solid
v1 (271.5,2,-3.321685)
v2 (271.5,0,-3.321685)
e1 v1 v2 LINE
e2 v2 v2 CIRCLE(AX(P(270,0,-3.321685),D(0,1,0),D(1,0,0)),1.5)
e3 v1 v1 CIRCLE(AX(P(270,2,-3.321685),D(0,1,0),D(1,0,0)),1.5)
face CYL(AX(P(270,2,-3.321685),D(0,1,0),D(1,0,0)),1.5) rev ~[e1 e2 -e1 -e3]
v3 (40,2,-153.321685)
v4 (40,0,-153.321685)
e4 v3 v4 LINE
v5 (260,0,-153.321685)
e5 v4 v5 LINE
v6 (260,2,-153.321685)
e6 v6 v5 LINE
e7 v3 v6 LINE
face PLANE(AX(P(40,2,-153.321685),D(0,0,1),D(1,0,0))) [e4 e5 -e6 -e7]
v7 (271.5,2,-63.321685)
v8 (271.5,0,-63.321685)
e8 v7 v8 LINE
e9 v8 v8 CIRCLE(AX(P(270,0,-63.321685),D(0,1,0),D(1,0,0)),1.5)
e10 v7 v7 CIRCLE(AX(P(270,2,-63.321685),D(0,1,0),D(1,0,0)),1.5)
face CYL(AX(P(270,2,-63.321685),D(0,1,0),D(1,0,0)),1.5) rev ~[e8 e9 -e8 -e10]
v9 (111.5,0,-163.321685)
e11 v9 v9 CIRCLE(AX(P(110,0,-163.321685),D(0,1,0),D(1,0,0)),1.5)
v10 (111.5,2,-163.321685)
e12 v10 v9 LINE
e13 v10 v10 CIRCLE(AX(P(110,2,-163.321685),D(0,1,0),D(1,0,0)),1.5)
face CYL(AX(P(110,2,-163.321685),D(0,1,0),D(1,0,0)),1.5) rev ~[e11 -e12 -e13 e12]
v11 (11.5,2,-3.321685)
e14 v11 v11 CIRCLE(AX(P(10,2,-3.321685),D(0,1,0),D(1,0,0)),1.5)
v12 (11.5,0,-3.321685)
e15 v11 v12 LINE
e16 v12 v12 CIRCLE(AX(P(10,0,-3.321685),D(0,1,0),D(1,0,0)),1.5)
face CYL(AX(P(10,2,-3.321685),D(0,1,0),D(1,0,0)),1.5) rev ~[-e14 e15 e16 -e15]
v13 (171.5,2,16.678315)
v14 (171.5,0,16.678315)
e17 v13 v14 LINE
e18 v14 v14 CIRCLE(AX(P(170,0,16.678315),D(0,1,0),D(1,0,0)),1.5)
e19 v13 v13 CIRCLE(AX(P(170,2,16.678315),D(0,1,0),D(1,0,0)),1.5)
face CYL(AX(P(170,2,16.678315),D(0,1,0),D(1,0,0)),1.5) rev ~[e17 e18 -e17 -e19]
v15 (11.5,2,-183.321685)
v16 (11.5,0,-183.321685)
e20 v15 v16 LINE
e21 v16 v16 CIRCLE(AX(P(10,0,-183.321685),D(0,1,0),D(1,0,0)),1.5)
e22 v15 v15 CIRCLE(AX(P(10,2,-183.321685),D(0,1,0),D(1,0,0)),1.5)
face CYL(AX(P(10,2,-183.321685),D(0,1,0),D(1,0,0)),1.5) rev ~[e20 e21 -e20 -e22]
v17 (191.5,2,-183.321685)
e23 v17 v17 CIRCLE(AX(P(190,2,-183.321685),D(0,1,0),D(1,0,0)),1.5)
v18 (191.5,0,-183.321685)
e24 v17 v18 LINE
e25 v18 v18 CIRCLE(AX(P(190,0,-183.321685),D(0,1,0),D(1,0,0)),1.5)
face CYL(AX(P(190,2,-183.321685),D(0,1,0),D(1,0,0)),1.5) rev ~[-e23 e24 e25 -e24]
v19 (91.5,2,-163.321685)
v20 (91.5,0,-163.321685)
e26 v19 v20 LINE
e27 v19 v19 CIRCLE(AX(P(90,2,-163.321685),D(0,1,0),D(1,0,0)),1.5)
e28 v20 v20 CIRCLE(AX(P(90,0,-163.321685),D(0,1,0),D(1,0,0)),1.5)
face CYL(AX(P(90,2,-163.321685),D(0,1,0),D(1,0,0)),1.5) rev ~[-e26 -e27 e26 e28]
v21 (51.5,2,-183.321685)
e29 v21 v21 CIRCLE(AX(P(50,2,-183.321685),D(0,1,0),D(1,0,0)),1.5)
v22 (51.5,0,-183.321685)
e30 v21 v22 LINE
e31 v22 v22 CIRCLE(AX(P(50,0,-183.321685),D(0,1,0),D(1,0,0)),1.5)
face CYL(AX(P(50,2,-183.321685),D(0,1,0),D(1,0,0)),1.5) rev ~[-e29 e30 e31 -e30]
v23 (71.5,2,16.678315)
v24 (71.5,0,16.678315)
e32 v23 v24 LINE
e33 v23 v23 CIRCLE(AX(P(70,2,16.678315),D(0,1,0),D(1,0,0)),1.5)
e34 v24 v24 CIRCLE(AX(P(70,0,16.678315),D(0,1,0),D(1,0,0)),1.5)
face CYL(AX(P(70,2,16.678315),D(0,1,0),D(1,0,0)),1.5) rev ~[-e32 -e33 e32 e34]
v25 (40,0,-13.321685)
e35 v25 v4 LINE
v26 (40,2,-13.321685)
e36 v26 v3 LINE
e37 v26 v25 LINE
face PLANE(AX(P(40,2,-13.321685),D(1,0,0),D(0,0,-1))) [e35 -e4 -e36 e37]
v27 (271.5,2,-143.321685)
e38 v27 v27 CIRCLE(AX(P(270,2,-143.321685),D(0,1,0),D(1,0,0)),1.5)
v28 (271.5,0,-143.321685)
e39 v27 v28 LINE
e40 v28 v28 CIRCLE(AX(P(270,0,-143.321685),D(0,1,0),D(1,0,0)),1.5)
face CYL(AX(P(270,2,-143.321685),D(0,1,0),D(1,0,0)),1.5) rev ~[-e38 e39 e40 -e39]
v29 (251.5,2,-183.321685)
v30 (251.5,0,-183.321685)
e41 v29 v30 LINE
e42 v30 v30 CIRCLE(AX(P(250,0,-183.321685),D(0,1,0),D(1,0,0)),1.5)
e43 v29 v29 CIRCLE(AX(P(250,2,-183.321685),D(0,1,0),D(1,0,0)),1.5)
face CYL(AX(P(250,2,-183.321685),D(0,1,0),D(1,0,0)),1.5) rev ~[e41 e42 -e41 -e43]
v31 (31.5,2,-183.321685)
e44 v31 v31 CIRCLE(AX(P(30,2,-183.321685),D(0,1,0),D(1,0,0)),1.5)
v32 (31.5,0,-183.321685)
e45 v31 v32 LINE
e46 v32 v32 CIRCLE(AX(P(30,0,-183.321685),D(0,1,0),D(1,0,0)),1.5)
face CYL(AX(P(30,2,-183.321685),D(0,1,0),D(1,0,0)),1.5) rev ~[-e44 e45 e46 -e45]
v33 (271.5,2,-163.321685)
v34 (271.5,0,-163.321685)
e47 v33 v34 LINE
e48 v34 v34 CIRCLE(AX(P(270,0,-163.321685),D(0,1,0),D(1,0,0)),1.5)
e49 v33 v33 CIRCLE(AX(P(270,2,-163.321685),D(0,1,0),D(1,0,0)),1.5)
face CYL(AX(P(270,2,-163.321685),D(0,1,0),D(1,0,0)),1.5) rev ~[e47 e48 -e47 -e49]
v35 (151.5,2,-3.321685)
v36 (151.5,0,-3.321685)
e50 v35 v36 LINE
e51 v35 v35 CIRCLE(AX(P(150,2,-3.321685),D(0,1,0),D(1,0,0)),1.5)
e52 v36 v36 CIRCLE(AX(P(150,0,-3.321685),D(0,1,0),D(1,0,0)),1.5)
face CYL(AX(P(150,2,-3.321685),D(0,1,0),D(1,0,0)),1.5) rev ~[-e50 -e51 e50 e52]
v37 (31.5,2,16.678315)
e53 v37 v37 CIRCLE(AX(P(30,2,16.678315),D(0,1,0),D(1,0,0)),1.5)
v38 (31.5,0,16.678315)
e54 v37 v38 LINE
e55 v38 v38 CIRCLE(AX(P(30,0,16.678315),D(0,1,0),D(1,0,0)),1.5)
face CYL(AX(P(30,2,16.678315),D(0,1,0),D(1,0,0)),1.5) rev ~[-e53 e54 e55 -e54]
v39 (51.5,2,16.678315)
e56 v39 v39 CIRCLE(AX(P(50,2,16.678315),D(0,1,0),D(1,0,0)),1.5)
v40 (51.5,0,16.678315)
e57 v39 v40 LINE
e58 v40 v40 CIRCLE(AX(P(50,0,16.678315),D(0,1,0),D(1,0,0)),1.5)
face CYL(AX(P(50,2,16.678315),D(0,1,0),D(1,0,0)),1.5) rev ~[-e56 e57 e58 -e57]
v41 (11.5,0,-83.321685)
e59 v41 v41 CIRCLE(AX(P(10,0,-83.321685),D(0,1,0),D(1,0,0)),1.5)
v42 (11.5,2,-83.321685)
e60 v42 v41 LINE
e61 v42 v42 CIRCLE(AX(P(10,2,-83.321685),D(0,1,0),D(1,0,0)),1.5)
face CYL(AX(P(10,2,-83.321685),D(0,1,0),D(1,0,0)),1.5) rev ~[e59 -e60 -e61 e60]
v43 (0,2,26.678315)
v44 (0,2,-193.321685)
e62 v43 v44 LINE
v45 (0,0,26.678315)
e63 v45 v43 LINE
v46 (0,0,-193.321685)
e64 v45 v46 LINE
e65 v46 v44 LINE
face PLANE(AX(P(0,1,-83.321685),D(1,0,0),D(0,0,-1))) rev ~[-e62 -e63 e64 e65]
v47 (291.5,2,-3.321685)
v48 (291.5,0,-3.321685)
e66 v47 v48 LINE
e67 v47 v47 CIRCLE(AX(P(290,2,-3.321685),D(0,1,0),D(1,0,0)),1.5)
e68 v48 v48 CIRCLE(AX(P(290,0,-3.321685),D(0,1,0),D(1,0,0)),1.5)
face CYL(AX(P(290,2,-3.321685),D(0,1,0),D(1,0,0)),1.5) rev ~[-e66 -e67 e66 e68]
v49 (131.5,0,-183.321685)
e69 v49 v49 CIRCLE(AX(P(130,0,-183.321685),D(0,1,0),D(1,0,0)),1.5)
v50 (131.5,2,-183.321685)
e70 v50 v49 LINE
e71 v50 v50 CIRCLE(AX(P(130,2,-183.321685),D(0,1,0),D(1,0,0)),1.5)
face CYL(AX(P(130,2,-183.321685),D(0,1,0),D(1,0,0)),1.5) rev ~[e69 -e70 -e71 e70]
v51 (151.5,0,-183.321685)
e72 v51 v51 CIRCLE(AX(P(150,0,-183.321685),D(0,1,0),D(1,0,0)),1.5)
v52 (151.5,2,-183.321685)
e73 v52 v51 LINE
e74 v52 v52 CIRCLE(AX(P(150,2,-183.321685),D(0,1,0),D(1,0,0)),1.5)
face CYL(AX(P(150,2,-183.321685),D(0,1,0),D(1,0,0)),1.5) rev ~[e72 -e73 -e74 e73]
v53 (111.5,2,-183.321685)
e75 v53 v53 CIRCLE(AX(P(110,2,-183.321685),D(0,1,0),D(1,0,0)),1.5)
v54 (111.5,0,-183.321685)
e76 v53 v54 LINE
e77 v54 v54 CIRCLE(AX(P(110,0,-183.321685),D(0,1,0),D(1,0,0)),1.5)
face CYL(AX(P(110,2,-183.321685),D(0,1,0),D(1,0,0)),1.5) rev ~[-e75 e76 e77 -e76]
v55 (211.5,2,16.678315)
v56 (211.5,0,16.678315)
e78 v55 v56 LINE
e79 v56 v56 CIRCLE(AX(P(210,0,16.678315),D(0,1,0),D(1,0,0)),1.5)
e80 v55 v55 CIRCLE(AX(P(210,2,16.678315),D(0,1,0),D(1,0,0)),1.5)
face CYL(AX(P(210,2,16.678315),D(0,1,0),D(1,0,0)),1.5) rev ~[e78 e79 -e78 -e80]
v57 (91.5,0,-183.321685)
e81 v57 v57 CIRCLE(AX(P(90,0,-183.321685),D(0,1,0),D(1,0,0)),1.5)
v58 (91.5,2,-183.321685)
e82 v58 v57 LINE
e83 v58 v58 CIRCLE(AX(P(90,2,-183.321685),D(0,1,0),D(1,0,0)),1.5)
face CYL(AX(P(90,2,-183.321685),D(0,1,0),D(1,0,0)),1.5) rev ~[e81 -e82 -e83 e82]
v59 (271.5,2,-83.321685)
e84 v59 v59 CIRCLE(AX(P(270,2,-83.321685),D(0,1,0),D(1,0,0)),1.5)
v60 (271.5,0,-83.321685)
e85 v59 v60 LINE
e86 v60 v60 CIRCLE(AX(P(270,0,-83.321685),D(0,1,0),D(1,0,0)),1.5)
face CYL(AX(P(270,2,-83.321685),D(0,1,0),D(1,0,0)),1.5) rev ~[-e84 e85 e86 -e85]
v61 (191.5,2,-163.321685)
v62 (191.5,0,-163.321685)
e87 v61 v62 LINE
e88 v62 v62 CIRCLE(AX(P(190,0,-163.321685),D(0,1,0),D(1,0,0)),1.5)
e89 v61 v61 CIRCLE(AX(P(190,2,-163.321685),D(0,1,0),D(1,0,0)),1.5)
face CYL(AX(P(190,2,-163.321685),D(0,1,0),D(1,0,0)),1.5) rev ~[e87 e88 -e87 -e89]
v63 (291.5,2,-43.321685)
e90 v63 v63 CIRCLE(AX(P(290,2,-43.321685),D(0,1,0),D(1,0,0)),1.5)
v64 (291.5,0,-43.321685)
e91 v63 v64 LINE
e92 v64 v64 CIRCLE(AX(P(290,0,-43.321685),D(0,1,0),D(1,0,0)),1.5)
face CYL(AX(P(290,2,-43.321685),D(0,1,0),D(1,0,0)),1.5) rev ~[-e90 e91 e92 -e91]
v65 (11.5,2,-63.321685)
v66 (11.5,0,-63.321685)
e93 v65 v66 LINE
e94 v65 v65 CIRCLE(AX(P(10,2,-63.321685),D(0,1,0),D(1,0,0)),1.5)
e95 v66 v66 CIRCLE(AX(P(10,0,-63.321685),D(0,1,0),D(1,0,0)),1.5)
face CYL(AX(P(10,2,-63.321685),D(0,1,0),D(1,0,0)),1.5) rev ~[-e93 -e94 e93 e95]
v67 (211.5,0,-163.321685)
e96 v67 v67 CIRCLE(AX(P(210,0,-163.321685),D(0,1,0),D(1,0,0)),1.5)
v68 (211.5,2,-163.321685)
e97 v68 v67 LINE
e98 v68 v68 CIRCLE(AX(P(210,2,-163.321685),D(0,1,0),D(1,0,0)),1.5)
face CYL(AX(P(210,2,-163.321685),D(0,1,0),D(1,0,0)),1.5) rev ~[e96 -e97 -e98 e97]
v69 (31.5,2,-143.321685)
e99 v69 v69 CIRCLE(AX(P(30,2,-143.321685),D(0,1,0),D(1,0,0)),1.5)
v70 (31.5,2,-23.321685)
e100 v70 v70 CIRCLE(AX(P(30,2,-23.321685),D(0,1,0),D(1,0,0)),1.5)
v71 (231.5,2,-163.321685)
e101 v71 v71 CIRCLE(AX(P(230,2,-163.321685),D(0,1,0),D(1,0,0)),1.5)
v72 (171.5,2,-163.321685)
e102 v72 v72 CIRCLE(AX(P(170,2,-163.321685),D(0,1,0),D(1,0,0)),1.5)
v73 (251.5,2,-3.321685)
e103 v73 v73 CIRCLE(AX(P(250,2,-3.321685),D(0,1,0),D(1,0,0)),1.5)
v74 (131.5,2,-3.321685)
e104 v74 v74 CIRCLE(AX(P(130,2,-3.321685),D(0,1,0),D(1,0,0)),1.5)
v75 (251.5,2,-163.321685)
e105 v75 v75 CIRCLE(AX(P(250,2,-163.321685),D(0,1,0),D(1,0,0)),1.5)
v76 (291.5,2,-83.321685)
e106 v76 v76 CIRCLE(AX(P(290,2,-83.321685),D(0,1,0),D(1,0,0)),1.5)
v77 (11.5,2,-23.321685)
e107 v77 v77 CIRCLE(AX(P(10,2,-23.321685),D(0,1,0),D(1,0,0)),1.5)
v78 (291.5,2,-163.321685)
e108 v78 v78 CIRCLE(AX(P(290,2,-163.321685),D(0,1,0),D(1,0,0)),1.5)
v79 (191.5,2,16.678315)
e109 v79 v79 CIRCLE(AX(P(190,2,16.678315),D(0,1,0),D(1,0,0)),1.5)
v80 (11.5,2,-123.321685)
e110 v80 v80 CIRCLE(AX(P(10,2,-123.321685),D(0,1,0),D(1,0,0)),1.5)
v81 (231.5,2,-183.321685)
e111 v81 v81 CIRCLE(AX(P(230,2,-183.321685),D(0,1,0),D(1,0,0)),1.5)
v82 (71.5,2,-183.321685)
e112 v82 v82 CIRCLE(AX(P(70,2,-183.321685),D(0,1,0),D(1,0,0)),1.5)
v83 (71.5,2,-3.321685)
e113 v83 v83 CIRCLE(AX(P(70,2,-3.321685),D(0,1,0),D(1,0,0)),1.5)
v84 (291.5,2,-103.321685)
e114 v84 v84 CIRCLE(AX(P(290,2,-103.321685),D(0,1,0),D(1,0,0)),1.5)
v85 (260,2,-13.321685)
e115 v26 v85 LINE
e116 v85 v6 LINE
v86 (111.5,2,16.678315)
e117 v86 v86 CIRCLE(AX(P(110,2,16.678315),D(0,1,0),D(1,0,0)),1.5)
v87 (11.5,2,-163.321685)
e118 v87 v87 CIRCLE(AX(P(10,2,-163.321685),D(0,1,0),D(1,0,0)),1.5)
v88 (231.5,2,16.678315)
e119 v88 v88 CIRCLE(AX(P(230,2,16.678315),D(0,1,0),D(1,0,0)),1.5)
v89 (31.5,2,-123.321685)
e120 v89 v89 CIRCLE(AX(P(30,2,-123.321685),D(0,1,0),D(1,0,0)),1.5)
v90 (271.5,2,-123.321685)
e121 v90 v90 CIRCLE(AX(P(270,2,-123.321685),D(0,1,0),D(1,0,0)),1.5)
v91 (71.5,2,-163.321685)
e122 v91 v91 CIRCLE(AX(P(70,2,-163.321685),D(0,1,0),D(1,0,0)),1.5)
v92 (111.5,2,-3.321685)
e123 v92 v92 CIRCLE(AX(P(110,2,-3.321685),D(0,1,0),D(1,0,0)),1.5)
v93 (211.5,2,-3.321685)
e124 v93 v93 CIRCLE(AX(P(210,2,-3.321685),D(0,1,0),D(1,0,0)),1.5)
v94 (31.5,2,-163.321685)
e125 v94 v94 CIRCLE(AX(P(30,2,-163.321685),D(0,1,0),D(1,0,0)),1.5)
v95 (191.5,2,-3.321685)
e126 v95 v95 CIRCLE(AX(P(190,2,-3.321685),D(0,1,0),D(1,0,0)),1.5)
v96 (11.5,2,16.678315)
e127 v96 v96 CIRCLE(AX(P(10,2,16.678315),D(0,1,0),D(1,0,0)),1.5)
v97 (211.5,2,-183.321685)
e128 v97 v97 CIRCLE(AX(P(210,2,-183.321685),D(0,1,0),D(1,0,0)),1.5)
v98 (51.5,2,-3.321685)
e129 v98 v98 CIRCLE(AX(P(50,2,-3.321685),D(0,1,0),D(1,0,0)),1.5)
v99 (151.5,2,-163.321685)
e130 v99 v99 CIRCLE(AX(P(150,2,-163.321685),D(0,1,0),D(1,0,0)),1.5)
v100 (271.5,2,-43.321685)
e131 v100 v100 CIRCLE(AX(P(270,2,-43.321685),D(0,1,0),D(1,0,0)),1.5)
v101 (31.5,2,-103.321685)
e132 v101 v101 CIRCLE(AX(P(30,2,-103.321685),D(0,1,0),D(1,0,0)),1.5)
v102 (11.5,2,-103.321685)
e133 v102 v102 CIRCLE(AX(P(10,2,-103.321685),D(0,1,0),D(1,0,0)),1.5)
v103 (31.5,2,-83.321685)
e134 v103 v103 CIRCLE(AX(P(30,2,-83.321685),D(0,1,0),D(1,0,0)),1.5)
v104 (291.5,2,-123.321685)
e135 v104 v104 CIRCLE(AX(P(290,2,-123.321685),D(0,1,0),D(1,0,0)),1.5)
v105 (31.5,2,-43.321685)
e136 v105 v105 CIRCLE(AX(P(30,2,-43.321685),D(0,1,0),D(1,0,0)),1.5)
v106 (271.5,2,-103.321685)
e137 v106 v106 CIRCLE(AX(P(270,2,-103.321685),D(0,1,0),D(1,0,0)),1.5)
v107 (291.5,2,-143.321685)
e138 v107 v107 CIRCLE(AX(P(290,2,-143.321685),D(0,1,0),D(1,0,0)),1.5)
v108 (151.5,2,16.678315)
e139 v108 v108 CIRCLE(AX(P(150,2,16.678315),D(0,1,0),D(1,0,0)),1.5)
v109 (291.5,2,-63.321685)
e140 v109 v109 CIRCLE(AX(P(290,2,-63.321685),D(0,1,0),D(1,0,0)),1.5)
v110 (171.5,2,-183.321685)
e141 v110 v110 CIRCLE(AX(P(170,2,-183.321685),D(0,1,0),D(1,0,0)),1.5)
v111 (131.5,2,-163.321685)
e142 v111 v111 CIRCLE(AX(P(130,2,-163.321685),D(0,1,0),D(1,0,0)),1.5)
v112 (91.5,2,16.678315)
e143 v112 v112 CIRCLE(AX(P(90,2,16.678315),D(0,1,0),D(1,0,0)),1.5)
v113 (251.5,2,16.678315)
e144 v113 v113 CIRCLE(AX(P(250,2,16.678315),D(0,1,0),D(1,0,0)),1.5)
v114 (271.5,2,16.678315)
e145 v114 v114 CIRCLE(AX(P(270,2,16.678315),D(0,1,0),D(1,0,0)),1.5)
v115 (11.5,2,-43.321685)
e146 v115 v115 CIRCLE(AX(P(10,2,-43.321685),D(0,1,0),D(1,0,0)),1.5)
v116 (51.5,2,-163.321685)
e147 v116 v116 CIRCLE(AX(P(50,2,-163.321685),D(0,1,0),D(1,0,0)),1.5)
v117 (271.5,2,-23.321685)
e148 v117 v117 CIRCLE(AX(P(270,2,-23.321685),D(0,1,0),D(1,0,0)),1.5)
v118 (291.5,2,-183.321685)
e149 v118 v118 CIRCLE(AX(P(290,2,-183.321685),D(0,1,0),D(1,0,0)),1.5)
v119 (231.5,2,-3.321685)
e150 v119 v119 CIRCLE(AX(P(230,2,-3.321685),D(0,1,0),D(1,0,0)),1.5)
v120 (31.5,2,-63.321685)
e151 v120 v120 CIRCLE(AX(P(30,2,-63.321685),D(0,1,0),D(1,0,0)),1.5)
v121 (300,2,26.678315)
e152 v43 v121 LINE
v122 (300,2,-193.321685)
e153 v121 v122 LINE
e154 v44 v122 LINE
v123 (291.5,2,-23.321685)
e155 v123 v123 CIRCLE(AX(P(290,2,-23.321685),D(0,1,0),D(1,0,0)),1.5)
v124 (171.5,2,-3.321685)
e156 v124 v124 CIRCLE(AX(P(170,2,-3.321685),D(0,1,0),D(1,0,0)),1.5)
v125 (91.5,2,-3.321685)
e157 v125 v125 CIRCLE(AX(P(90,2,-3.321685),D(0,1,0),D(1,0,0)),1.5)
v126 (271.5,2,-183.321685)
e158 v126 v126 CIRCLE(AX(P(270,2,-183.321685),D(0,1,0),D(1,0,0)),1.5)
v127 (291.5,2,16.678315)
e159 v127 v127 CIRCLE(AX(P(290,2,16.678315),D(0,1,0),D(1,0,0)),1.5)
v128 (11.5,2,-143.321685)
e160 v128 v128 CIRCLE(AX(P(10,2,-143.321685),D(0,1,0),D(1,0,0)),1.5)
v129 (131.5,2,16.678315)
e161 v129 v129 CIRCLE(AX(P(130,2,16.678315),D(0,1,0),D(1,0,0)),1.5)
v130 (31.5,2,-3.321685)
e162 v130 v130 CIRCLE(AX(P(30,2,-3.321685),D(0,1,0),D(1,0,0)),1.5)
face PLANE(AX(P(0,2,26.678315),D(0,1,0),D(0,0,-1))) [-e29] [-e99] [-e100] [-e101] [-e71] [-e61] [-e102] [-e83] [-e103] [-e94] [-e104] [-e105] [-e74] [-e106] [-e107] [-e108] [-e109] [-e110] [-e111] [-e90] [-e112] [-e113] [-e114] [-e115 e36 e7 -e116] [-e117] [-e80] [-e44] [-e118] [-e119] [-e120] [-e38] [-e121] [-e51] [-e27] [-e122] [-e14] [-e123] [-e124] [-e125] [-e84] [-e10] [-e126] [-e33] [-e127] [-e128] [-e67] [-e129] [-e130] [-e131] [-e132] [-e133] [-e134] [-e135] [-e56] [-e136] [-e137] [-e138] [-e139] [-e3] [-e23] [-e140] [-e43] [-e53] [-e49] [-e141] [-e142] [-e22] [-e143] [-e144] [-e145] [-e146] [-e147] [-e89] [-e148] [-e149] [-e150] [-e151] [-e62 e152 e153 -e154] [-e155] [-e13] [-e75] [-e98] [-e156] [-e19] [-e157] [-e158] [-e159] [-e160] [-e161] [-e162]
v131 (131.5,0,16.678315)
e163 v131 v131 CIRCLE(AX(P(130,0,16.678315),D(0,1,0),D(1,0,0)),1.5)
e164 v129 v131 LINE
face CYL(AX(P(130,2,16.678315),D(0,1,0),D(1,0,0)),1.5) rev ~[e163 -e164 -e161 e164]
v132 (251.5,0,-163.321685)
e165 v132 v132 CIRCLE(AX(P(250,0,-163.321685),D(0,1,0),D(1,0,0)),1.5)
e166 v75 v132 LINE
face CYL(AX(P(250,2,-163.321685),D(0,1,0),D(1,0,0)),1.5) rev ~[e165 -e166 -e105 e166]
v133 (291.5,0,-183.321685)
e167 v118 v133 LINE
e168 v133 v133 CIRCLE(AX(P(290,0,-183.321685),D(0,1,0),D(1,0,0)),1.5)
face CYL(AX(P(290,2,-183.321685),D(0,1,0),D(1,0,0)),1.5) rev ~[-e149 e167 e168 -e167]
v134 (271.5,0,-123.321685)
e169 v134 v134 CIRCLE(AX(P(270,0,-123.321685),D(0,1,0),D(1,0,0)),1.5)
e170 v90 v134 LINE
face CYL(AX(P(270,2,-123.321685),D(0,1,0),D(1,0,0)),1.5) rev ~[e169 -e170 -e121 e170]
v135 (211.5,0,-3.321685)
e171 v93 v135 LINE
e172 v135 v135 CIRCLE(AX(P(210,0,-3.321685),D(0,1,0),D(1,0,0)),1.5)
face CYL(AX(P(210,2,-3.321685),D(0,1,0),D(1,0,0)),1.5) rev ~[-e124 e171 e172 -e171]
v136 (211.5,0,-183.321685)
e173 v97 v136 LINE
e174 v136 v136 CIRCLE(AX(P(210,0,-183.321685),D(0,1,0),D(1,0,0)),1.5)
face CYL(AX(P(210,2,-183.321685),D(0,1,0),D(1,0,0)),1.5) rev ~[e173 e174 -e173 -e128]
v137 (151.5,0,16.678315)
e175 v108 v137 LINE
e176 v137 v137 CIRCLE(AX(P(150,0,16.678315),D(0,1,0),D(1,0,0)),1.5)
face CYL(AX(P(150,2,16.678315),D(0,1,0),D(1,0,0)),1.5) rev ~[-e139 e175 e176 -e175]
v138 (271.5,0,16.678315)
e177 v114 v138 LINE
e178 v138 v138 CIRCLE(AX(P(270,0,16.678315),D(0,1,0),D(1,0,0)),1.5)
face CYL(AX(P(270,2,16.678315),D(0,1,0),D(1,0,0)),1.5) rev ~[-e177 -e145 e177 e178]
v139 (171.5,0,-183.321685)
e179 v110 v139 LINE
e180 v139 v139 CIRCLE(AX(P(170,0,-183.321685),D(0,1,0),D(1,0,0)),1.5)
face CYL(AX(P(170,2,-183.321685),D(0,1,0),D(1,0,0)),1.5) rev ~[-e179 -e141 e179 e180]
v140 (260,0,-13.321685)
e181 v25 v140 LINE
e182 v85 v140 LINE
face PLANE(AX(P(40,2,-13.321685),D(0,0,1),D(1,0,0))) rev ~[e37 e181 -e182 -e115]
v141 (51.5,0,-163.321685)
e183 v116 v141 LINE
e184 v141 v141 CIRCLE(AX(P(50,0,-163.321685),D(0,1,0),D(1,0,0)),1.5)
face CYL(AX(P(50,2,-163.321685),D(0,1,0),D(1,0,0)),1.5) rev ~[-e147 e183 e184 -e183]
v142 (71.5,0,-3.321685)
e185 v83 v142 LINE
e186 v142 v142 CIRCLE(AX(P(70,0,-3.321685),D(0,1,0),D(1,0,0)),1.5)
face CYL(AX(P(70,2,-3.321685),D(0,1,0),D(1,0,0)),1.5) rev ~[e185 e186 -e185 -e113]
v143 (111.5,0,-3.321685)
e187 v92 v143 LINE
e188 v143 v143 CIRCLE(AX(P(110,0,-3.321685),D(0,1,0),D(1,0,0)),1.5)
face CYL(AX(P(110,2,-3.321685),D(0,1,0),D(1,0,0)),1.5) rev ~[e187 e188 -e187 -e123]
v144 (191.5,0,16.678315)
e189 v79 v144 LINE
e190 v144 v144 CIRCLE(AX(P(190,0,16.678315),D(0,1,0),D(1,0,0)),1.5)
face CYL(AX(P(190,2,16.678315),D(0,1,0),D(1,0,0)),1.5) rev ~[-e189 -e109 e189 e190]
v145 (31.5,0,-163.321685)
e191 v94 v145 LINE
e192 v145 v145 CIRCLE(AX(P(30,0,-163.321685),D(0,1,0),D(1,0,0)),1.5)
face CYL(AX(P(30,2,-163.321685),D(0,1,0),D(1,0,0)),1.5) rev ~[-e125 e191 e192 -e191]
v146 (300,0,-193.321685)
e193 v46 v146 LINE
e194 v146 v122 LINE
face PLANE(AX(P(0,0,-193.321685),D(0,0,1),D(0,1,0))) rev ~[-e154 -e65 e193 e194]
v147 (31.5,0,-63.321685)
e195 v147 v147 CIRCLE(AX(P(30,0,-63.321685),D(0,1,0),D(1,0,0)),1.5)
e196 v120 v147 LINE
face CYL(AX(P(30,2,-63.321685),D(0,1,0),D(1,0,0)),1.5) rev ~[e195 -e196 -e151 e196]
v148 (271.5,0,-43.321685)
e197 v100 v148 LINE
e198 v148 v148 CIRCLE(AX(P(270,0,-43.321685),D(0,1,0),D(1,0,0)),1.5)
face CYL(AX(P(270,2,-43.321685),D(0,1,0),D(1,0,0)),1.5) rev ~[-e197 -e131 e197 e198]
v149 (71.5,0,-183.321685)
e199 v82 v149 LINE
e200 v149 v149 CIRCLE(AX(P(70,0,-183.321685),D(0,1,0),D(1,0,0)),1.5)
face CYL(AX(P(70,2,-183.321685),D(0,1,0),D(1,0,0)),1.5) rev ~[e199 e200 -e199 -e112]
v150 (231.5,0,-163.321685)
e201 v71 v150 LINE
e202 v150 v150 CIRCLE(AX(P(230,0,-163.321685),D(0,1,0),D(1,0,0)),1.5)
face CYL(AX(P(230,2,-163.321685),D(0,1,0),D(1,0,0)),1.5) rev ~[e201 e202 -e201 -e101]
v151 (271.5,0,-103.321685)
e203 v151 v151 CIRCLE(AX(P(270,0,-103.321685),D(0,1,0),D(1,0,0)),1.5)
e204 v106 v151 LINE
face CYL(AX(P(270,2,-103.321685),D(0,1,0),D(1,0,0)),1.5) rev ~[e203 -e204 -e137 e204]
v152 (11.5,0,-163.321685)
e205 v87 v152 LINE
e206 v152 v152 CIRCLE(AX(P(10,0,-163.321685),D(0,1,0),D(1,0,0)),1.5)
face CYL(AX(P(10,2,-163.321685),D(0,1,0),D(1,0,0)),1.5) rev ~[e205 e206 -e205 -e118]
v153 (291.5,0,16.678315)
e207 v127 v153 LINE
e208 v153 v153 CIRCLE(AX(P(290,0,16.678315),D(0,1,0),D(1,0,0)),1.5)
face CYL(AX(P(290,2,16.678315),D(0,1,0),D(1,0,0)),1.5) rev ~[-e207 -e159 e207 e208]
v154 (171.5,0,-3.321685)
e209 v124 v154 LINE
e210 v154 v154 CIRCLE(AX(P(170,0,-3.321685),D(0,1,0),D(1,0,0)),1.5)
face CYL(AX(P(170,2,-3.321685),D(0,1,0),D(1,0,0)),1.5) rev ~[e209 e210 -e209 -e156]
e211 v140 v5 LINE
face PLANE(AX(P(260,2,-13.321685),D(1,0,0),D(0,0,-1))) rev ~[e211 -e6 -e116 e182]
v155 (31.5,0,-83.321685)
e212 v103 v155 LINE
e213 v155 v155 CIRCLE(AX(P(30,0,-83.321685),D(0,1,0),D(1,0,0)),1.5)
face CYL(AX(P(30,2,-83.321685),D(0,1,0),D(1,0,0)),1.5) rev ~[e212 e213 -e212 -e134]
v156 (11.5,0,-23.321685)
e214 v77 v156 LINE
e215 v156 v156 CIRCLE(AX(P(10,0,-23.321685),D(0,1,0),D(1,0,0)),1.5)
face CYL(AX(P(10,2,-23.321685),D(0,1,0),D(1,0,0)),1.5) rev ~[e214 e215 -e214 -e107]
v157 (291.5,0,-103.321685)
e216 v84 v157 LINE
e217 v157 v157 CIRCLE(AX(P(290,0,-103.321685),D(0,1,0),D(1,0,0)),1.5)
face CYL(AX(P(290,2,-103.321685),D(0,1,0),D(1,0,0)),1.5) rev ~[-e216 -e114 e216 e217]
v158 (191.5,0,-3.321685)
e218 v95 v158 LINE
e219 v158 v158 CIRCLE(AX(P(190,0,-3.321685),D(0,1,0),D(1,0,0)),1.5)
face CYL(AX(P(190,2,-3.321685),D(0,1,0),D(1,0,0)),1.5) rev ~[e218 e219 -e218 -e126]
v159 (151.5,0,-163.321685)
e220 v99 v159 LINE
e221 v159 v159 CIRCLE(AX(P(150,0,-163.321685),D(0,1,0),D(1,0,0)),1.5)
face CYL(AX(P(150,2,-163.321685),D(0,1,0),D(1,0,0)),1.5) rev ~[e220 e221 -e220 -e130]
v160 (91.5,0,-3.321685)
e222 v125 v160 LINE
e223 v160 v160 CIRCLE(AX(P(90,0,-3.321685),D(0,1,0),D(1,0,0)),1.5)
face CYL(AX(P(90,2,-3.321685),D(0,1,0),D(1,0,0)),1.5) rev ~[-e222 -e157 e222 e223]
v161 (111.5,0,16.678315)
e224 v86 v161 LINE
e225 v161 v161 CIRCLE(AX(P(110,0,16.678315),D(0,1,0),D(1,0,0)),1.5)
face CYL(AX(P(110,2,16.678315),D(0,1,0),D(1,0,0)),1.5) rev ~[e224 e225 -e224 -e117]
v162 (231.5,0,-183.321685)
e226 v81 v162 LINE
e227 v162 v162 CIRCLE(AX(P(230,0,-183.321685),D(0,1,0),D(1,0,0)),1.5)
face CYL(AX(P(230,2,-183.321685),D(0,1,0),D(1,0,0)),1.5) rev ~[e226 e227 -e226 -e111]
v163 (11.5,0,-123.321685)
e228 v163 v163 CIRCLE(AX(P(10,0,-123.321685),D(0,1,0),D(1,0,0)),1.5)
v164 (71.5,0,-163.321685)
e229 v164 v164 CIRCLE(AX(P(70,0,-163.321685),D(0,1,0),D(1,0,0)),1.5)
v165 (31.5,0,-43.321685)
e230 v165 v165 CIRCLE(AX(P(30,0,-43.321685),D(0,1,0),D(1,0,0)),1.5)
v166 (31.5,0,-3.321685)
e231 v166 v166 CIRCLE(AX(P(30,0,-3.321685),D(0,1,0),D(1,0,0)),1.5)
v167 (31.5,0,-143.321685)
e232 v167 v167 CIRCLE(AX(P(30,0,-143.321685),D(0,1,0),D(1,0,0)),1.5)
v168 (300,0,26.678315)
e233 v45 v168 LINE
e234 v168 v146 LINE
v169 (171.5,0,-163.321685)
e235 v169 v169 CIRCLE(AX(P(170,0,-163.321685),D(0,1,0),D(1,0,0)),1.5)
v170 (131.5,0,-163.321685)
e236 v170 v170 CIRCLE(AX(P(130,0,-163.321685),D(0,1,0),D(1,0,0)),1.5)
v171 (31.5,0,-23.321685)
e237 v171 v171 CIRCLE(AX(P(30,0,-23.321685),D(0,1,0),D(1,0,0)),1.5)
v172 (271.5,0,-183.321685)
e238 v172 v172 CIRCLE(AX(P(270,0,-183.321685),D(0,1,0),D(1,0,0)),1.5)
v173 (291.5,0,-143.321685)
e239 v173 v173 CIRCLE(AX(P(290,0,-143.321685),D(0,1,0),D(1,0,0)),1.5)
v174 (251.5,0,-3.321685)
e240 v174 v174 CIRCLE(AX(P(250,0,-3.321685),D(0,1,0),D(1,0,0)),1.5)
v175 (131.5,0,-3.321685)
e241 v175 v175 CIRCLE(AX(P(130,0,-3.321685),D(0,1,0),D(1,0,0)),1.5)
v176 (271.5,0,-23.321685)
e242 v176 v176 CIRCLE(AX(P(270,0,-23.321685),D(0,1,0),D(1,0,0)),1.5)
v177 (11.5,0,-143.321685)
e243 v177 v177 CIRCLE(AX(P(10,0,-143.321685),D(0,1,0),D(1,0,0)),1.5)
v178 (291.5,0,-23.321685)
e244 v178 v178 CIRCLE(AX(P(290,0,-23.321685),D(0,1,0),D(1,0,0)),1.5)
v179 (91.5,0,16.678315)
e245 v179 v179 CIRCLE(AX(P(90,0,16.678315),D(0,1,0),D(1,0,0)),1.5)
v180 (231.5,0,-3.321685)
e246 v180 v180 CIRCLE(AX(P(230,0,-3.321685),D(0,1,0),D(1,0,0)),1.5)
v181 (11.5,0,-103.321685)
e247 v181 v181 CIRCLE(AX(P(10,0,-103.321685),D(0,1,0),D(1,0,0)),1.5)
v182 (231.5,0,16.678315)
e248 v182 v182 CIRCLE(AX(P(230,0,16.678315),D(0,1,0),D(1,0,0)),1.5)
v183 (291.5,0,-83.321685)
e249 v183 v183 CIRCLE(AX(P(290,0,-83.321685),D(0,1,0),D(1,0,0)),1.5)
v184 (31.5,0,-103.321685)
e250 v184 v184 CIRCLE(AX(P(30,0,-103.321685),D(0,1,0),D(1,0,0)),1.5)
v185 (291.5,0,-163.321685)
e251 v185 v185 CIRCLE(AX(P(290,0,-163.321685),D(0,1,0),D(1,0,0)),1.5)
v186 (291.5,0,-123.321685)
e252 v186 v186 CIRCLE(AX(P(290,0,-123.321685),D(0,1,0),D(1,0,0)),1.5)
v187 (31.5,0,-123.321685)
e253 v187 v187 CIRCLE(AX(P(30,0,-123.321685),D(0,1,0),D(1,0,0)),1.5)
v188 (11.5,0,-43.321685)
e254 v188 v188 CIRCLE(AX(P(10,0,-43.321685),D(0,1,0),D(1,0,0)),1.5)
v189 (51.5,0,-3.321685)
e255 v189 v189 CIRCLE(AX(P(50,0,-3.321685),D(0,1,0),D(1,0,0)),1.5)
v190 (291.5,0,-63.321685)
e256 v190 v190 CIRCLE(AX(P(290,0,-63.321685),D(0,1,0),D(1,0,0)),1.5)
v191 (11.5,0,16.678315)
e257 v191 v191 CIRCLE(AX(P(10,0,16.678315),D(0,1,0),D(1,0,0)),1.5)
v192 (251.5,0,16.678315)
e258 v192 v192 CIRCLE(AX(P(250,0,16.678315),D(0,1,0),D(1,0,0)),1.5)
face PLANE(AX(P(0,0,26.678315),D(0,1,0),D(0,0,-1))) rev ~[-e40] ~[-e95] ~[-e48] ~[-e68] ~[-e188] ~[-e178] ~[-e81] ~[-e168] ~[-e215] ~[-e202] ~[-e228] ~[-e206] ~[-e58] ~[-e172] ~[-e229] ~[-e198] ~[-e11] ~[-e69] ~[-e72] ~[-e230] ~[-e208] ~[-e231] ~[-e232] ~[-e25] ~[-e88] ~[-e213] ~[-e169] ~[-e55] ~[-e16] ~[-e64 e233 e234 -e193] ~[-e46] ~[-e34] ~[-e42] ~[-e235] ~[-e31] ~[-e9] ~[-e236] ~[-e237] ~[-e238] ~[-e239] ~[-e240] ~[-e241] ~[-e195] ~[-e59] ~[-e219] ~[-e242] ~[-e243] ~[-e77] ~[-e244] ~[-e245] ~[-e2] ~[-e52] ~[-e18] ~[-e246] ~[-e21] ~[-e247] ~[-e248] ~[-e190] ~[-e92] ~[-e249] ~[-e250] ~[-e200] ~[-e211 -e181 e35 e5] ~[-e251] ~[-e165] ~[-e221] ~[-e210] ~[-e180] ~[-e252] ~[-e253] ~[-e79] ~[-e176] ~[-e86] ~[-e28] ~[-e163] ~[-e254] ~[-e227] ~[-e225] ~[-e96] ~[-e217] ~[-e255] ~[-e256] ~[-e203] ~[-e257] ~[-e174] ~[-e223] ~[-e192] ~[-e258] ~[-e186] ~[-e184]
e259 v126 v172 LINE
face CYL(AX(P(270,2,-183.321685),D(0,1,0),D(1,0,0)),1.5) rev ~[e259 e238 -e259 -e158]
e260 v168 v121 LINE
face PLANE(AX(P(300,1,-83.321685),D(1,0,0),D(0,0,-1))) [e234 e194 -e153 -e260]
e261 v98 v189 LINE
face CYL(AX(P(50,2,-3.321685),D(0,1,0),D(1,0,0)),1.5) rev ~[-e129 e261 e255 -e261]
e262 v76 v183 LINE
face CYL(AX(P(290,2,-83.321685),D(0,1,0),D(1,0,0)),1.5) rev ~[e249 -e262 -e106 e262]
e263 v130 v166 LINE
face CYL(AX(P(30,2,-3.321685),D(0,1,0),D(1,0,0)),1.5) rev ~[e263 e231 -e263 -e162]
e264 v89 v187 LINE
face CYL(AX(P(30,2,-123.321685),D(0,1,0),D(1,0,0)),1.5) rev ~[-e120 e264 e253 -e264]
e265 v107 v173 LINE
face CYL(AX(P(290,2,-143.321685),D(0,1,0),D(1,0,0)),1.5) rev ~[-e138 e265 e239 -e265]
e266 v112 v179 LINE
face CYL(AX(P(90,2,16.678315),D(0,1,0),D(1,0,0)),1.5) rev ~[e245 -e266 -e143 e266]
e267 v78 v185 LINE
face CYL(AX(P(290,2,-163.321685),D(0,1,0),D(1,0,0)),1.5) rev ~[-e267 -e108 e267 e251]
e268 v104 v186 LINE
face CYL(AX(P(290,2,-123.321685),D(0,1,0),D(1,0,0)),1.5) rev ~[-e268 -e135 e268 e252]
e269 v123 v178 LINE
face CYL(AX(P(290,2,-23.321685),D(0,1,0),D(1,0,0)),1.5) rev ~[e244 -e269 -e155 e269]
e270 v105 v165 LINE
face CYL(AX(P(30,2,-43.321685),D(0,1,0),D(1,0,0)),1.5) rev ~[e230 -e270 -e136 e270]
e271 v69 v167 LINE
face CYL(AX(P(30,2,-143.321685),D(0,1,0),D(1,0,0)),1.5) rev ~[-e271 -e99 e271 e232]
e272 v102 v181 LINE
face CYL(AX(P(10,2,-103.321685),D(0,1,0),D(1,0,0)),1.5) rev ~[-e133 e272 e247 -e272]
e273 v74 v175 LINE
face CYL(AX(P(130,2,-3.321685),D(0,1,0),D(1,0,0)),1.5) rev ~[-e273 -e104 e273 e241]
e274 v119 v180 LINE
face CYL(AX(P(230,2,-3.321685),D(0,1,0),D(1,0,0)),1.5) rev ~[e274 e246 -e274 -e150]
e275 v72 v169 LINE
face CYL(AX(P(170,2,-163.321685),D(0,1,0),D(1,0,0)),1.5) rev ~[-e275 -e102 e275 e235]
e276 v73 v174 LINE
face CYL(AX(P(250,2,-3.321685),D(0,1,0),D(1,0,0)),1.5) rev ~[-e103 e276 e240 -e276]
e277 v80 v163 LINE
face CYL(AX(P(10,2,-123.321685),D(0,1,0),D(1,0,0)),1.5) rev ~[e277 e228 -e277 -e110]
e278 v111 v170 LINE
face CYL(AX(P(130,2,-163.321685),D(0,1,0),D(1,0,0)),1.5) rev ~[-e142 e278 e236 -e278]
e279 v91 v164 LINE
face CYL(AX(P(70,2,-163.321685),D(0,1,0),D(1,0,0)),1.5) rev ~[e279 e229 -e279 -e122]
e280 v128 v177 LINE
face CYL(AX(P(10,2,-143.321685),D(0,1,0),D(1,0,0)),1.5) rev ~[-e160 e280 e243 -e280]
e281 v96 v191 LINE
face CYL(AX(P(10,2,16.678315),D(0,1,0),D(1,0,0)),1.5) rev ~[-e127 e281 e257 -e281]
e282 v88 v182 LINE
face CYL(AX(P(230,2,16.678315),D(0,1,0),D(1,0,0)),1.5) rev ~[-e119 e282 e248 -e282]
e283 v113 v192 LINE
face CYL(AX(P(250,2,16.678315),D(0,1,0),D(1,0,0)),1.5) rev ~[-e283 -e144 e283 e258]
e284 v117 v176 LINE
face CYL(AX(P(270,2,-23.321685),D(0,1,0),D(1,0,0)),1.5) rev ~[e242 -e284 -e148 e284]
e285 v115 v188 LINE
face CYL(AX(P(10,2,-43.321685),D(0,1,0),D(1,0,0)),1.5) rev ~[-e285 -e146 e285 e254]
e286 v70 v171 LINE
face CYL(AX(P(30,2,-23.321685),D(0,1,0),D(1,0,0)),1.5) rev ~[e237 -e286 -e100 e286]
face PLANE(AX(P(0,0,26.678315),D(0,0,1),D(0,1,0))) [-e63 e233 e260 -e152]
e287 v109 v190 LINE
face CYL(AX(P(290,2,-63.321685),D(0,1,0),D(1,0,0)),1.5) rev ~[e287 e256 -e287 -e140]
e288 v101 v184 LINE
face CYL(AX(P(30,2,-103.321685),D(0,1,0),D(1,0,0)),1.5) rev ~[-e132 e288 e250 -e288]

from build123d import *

# Parameters (mm, degrees)
SKETCH1_W           = 220
SKETCH1_H           = 2
BOSS_EXTRUDE1_DEPTH = 300
SKETCH2_R           = 1.5
SKETCH2_W           = 220
SKETCH2_H           = 140
CUT_EXTRUDE1_DEPTH  = 10


with BuildPart() as part:
    # Sketch1 → Boss-Extrude1 (new body)
    with BuildSketch(Plane(origin=(0, 0, 0), x_dir=(0, 0, -1), z_dir=(1, 0, 0))):
        with Locations((83.3216851, 1)):
            Rectangle(SKETCH1_W, SKETCH1_H)
    extrude(amount=BOSS_EXTRUDE1_DEPTH)

    # Sketch2 → Cut-Extrude1 (cut)
    with BuildSketch(Plane(origin=(0, 2, 0), x_dir=(1, 0, 0), z_dir=(0, 1, 0))):
        with Locations((10, -16.6783149)):
            Circle(SKETCH2_R)
        with Locations((30, -16.6783149)):
            Circle(SKETCH2_R)
        with Locations((50, -16.6783149)):
            Circle(SKETCH2_R)
        with Locations((70, -16.6783149)):
            Circle(SKETCH2_R)
        with Locations((90, -16.6783149)):
            Circle(SKETCH2_R)
        with Locations((110, -16.6783149)):
            Circle(SKETCH2_R)
        with Locations((130, -16.6783149)):
            Circle(SKETCH2_R)
        with Locations((150, -16.6783149)):
            Circle(SKETCH2_R)
        with Locations((170, -16.6783149)):
            Circle(SKETCH2_R)
        with Locations((190, -16.6783149)):
            Circle(SKETCH2_R)
        with Locations((210, -16.6783149)):
            Circle(SKETCH2_R)
        with Locations((230, -16.6783149)):
            Circle(SKETCH2_R)
        with Locations((250, -16.6783149)):
            Circle(SKETCH2_R)
        with Locations((270, -16.6783149)):
            Circle(SKETCH2_R)
        with Locations((290, -16.6783149)):
            Circle(SKETCH2_R)
        with Locations((10, 3.3216851)):
            Circle(SKETCH2_R)
        with Locations((270, 3.3216851)):
            Circle(SKETCH2_R)
        with Locations((290, 3.3216851)):
            Circle(SKETCH2_R)
        with Locations((10, 23.3216851)):
            Circle(SKETCH2_R)
        with Locations((30, 23.3216851)):
            Circle(SKETCH2_R)
        with Locations((270, 23.3216851)):
            Circle(SKETCH2_R)
        with Locations((290, 23.3216851)):
            Circle(SKETCH2_R)
        with Locations((10, 43.3216851)):
            Circle(SKETCH2_R)
        with Locations((30, 43.3216851)):
            Circle(SKETCH2_R)
        with Locations((270, 43.3216851)):
            Circle(SKETCH2_R)
        with Locations((290, 43.3216851)):
            Circle(SKETCH2_R)
        with Locations((10, 63.3216851)):
            Circle(SKETCH2_R)
        with Locations((30, 63.3216851)):
            Circle(SKETCH2_R)
        with Locations((270, 63.3216851)):
            Circle(SKETCH2_R)
        with Locations((290, 63.3216851)):
            Circle(SKETCH2_R)
        with Locations((10, 83.3216851)):
            Circle(SKETCH2_R)
        with Locations((30, 83.3216851)):
            Circle(SKETCH2_R)
        with Locations((270, 83.3216851)):
            Circle(SKETCH2_R)
        with Locations((290, 83.3216851)):
            Circle(SKETCH2_R)
        with Locations((10, 103.3216851)):
            Circle(SKETCH2_R)
        with Locations((30, 103.3216851)):
            Circle(SKETCH2_R)
        with Locations((270, 103.3216851)):
            Circle(SKETCH2_R)
        with Locations((290, 103.3216851)):
            Circle(SKETCH2_R)
        with Locations((10, 123.3216851)):
            Circle(SKETCH2_R)
        with Locations((30, 123.3216851)):
            Circle(SKETCH2_R)
        with Locations((270, 123.3216851)):
            Circle(SKETCH2_R)
        with Locations((290, 123.3216851)):
            Circle(SKETCH2_R)
        with Locations((10, 143.3216851)):
            Circle(SKETCH2_R)
        with Locations((30, 143.3216851)):
            Circle(SKETCH2_R)
        with Locations((270, 143.3216851)):
            Circle(SKETCH2_R)
        with Locations((290, 143.3216851)):
            Circle(SKETCH2_R)
        with Locations((10, 163.3216851)):
            Circle(SKETCH2_R)
        with Locations((30, 163.3216851)):
            Circle(SKETCH2_R)
        with Locations((290, 163.3216851)):
            Circle(SKETCH2_R)
        with Locations((10, 183.3216851)):
            Circle(SKETCH2_R)
        with Locations((30, 183.3216851)):
            Circle(SKETCH2_R)
        with Locations((50, 183.3216851)):
            Circle(SKETCH2_R)
        with Locations((70, 183.3216851)):
            Circle(SKETCH2_R)
        with Locations((90, 183.3216851)):
            Circle(SKETCH2_R)
        with Locations((110, 183.3216851)):
            Circle(SKETCH2_R)
        with Locations((130, 183.3216851)):
            Circle(SKETCH2_R)
        with Locations((150, 183.3216851)):
            Circle(SKETCH2_R)
        with Locations((170, 183.3216851)):
            Circle(SKETCH2_R)
        with Locations((190, 183.3216851)):
            Circle(SKETCH2_R)
        with Locations((210, 183.3216851)):
            Circle(SKETCH2_R)
        with Locations((230, 183.3216851)):
            Circle(SKETCH2_R)
        with Locations((250, 183.3216851)):
            Circle(SKETCH2_R)
        with Locations((270, 183.3216851)):
            Circle(SKETCH2_R)
        with Locations((290, 183.3216851)):
            Circle(SKETCH2_R)
        with Locations((50, 163.3216851)):
            Circle(SKETCH2_R)
        with Locations((70, 163.3216851)):
            Circle(SKETCH2_R)
        with Locations((90, 163.3216851)):
            Circle(SKETCH2_R)
        with Locations((110, 163.3216851)):
            Circle(SKETCH2_R)
        with Locations((130, 163.3216851)):
            Circle(SKETCH2_R)
        with Locations((150, 163.3216851)):
            Circle(SKETCH2_R)
        with Locations((170, 163.3216851)):
            Circle(SKETCH2_R)
        with Locations((190, 163.3216851)):
            Circle(SKETCH2_R)
        with Locations((210, 163.3216851)):
            Circle(SKETCH2_R)
        with Locations((230, 163.3216851)):
            Circle(SKETCH2_R)
        with Locations((250, 163.3216851)):
            Circle(SKETCH2_R)
        with Locations((30, 3.3216851)):
            Circle(SKETCH2_R)
        with Locations((50, 3.3216851)):
            Circle(SKETCH2_R)
        with Locations((70, 3.3216851)):
            Circle(SKETCH2_R)
        with Locations((90, 3.3216851)):
            Circle(SKETCH2_R)
        with Locations((110, 3.3216851)):
            Circle(SKETCH2_R)
        with Locations((130, 3.3216851)):
            Circle(SKETCH2_R)
        with Locations((150, 3.3216851)):
            Circle(SKETCH2_R)
        with Locations((170, 3.3216851)):
            Circle(SKETCH2_R)
        with Locations((190, 3.3216851)):
            Circle(SKETCH2_R)
        with Locations((210, 3.3216851)):
            Circle(SKETCH2_R)
        with Locations((230, 3.3216851)):
            Circle(SKETCH2_R)
        with Locations((250, 3.3216851)):
            Circle(SKETCH2_R)
        with Locations((270, 163.3216851)):
            Circle(SKETCH2_R)
        with Locations((150, 83.3216851)):
            Rectangle(SKETCH2_W, SKETCH2_H)
    extrude(amount=-CUT_EXTRUDE1_DEPTH, mode=Mode.SUBTRACT)


solid = part.part
